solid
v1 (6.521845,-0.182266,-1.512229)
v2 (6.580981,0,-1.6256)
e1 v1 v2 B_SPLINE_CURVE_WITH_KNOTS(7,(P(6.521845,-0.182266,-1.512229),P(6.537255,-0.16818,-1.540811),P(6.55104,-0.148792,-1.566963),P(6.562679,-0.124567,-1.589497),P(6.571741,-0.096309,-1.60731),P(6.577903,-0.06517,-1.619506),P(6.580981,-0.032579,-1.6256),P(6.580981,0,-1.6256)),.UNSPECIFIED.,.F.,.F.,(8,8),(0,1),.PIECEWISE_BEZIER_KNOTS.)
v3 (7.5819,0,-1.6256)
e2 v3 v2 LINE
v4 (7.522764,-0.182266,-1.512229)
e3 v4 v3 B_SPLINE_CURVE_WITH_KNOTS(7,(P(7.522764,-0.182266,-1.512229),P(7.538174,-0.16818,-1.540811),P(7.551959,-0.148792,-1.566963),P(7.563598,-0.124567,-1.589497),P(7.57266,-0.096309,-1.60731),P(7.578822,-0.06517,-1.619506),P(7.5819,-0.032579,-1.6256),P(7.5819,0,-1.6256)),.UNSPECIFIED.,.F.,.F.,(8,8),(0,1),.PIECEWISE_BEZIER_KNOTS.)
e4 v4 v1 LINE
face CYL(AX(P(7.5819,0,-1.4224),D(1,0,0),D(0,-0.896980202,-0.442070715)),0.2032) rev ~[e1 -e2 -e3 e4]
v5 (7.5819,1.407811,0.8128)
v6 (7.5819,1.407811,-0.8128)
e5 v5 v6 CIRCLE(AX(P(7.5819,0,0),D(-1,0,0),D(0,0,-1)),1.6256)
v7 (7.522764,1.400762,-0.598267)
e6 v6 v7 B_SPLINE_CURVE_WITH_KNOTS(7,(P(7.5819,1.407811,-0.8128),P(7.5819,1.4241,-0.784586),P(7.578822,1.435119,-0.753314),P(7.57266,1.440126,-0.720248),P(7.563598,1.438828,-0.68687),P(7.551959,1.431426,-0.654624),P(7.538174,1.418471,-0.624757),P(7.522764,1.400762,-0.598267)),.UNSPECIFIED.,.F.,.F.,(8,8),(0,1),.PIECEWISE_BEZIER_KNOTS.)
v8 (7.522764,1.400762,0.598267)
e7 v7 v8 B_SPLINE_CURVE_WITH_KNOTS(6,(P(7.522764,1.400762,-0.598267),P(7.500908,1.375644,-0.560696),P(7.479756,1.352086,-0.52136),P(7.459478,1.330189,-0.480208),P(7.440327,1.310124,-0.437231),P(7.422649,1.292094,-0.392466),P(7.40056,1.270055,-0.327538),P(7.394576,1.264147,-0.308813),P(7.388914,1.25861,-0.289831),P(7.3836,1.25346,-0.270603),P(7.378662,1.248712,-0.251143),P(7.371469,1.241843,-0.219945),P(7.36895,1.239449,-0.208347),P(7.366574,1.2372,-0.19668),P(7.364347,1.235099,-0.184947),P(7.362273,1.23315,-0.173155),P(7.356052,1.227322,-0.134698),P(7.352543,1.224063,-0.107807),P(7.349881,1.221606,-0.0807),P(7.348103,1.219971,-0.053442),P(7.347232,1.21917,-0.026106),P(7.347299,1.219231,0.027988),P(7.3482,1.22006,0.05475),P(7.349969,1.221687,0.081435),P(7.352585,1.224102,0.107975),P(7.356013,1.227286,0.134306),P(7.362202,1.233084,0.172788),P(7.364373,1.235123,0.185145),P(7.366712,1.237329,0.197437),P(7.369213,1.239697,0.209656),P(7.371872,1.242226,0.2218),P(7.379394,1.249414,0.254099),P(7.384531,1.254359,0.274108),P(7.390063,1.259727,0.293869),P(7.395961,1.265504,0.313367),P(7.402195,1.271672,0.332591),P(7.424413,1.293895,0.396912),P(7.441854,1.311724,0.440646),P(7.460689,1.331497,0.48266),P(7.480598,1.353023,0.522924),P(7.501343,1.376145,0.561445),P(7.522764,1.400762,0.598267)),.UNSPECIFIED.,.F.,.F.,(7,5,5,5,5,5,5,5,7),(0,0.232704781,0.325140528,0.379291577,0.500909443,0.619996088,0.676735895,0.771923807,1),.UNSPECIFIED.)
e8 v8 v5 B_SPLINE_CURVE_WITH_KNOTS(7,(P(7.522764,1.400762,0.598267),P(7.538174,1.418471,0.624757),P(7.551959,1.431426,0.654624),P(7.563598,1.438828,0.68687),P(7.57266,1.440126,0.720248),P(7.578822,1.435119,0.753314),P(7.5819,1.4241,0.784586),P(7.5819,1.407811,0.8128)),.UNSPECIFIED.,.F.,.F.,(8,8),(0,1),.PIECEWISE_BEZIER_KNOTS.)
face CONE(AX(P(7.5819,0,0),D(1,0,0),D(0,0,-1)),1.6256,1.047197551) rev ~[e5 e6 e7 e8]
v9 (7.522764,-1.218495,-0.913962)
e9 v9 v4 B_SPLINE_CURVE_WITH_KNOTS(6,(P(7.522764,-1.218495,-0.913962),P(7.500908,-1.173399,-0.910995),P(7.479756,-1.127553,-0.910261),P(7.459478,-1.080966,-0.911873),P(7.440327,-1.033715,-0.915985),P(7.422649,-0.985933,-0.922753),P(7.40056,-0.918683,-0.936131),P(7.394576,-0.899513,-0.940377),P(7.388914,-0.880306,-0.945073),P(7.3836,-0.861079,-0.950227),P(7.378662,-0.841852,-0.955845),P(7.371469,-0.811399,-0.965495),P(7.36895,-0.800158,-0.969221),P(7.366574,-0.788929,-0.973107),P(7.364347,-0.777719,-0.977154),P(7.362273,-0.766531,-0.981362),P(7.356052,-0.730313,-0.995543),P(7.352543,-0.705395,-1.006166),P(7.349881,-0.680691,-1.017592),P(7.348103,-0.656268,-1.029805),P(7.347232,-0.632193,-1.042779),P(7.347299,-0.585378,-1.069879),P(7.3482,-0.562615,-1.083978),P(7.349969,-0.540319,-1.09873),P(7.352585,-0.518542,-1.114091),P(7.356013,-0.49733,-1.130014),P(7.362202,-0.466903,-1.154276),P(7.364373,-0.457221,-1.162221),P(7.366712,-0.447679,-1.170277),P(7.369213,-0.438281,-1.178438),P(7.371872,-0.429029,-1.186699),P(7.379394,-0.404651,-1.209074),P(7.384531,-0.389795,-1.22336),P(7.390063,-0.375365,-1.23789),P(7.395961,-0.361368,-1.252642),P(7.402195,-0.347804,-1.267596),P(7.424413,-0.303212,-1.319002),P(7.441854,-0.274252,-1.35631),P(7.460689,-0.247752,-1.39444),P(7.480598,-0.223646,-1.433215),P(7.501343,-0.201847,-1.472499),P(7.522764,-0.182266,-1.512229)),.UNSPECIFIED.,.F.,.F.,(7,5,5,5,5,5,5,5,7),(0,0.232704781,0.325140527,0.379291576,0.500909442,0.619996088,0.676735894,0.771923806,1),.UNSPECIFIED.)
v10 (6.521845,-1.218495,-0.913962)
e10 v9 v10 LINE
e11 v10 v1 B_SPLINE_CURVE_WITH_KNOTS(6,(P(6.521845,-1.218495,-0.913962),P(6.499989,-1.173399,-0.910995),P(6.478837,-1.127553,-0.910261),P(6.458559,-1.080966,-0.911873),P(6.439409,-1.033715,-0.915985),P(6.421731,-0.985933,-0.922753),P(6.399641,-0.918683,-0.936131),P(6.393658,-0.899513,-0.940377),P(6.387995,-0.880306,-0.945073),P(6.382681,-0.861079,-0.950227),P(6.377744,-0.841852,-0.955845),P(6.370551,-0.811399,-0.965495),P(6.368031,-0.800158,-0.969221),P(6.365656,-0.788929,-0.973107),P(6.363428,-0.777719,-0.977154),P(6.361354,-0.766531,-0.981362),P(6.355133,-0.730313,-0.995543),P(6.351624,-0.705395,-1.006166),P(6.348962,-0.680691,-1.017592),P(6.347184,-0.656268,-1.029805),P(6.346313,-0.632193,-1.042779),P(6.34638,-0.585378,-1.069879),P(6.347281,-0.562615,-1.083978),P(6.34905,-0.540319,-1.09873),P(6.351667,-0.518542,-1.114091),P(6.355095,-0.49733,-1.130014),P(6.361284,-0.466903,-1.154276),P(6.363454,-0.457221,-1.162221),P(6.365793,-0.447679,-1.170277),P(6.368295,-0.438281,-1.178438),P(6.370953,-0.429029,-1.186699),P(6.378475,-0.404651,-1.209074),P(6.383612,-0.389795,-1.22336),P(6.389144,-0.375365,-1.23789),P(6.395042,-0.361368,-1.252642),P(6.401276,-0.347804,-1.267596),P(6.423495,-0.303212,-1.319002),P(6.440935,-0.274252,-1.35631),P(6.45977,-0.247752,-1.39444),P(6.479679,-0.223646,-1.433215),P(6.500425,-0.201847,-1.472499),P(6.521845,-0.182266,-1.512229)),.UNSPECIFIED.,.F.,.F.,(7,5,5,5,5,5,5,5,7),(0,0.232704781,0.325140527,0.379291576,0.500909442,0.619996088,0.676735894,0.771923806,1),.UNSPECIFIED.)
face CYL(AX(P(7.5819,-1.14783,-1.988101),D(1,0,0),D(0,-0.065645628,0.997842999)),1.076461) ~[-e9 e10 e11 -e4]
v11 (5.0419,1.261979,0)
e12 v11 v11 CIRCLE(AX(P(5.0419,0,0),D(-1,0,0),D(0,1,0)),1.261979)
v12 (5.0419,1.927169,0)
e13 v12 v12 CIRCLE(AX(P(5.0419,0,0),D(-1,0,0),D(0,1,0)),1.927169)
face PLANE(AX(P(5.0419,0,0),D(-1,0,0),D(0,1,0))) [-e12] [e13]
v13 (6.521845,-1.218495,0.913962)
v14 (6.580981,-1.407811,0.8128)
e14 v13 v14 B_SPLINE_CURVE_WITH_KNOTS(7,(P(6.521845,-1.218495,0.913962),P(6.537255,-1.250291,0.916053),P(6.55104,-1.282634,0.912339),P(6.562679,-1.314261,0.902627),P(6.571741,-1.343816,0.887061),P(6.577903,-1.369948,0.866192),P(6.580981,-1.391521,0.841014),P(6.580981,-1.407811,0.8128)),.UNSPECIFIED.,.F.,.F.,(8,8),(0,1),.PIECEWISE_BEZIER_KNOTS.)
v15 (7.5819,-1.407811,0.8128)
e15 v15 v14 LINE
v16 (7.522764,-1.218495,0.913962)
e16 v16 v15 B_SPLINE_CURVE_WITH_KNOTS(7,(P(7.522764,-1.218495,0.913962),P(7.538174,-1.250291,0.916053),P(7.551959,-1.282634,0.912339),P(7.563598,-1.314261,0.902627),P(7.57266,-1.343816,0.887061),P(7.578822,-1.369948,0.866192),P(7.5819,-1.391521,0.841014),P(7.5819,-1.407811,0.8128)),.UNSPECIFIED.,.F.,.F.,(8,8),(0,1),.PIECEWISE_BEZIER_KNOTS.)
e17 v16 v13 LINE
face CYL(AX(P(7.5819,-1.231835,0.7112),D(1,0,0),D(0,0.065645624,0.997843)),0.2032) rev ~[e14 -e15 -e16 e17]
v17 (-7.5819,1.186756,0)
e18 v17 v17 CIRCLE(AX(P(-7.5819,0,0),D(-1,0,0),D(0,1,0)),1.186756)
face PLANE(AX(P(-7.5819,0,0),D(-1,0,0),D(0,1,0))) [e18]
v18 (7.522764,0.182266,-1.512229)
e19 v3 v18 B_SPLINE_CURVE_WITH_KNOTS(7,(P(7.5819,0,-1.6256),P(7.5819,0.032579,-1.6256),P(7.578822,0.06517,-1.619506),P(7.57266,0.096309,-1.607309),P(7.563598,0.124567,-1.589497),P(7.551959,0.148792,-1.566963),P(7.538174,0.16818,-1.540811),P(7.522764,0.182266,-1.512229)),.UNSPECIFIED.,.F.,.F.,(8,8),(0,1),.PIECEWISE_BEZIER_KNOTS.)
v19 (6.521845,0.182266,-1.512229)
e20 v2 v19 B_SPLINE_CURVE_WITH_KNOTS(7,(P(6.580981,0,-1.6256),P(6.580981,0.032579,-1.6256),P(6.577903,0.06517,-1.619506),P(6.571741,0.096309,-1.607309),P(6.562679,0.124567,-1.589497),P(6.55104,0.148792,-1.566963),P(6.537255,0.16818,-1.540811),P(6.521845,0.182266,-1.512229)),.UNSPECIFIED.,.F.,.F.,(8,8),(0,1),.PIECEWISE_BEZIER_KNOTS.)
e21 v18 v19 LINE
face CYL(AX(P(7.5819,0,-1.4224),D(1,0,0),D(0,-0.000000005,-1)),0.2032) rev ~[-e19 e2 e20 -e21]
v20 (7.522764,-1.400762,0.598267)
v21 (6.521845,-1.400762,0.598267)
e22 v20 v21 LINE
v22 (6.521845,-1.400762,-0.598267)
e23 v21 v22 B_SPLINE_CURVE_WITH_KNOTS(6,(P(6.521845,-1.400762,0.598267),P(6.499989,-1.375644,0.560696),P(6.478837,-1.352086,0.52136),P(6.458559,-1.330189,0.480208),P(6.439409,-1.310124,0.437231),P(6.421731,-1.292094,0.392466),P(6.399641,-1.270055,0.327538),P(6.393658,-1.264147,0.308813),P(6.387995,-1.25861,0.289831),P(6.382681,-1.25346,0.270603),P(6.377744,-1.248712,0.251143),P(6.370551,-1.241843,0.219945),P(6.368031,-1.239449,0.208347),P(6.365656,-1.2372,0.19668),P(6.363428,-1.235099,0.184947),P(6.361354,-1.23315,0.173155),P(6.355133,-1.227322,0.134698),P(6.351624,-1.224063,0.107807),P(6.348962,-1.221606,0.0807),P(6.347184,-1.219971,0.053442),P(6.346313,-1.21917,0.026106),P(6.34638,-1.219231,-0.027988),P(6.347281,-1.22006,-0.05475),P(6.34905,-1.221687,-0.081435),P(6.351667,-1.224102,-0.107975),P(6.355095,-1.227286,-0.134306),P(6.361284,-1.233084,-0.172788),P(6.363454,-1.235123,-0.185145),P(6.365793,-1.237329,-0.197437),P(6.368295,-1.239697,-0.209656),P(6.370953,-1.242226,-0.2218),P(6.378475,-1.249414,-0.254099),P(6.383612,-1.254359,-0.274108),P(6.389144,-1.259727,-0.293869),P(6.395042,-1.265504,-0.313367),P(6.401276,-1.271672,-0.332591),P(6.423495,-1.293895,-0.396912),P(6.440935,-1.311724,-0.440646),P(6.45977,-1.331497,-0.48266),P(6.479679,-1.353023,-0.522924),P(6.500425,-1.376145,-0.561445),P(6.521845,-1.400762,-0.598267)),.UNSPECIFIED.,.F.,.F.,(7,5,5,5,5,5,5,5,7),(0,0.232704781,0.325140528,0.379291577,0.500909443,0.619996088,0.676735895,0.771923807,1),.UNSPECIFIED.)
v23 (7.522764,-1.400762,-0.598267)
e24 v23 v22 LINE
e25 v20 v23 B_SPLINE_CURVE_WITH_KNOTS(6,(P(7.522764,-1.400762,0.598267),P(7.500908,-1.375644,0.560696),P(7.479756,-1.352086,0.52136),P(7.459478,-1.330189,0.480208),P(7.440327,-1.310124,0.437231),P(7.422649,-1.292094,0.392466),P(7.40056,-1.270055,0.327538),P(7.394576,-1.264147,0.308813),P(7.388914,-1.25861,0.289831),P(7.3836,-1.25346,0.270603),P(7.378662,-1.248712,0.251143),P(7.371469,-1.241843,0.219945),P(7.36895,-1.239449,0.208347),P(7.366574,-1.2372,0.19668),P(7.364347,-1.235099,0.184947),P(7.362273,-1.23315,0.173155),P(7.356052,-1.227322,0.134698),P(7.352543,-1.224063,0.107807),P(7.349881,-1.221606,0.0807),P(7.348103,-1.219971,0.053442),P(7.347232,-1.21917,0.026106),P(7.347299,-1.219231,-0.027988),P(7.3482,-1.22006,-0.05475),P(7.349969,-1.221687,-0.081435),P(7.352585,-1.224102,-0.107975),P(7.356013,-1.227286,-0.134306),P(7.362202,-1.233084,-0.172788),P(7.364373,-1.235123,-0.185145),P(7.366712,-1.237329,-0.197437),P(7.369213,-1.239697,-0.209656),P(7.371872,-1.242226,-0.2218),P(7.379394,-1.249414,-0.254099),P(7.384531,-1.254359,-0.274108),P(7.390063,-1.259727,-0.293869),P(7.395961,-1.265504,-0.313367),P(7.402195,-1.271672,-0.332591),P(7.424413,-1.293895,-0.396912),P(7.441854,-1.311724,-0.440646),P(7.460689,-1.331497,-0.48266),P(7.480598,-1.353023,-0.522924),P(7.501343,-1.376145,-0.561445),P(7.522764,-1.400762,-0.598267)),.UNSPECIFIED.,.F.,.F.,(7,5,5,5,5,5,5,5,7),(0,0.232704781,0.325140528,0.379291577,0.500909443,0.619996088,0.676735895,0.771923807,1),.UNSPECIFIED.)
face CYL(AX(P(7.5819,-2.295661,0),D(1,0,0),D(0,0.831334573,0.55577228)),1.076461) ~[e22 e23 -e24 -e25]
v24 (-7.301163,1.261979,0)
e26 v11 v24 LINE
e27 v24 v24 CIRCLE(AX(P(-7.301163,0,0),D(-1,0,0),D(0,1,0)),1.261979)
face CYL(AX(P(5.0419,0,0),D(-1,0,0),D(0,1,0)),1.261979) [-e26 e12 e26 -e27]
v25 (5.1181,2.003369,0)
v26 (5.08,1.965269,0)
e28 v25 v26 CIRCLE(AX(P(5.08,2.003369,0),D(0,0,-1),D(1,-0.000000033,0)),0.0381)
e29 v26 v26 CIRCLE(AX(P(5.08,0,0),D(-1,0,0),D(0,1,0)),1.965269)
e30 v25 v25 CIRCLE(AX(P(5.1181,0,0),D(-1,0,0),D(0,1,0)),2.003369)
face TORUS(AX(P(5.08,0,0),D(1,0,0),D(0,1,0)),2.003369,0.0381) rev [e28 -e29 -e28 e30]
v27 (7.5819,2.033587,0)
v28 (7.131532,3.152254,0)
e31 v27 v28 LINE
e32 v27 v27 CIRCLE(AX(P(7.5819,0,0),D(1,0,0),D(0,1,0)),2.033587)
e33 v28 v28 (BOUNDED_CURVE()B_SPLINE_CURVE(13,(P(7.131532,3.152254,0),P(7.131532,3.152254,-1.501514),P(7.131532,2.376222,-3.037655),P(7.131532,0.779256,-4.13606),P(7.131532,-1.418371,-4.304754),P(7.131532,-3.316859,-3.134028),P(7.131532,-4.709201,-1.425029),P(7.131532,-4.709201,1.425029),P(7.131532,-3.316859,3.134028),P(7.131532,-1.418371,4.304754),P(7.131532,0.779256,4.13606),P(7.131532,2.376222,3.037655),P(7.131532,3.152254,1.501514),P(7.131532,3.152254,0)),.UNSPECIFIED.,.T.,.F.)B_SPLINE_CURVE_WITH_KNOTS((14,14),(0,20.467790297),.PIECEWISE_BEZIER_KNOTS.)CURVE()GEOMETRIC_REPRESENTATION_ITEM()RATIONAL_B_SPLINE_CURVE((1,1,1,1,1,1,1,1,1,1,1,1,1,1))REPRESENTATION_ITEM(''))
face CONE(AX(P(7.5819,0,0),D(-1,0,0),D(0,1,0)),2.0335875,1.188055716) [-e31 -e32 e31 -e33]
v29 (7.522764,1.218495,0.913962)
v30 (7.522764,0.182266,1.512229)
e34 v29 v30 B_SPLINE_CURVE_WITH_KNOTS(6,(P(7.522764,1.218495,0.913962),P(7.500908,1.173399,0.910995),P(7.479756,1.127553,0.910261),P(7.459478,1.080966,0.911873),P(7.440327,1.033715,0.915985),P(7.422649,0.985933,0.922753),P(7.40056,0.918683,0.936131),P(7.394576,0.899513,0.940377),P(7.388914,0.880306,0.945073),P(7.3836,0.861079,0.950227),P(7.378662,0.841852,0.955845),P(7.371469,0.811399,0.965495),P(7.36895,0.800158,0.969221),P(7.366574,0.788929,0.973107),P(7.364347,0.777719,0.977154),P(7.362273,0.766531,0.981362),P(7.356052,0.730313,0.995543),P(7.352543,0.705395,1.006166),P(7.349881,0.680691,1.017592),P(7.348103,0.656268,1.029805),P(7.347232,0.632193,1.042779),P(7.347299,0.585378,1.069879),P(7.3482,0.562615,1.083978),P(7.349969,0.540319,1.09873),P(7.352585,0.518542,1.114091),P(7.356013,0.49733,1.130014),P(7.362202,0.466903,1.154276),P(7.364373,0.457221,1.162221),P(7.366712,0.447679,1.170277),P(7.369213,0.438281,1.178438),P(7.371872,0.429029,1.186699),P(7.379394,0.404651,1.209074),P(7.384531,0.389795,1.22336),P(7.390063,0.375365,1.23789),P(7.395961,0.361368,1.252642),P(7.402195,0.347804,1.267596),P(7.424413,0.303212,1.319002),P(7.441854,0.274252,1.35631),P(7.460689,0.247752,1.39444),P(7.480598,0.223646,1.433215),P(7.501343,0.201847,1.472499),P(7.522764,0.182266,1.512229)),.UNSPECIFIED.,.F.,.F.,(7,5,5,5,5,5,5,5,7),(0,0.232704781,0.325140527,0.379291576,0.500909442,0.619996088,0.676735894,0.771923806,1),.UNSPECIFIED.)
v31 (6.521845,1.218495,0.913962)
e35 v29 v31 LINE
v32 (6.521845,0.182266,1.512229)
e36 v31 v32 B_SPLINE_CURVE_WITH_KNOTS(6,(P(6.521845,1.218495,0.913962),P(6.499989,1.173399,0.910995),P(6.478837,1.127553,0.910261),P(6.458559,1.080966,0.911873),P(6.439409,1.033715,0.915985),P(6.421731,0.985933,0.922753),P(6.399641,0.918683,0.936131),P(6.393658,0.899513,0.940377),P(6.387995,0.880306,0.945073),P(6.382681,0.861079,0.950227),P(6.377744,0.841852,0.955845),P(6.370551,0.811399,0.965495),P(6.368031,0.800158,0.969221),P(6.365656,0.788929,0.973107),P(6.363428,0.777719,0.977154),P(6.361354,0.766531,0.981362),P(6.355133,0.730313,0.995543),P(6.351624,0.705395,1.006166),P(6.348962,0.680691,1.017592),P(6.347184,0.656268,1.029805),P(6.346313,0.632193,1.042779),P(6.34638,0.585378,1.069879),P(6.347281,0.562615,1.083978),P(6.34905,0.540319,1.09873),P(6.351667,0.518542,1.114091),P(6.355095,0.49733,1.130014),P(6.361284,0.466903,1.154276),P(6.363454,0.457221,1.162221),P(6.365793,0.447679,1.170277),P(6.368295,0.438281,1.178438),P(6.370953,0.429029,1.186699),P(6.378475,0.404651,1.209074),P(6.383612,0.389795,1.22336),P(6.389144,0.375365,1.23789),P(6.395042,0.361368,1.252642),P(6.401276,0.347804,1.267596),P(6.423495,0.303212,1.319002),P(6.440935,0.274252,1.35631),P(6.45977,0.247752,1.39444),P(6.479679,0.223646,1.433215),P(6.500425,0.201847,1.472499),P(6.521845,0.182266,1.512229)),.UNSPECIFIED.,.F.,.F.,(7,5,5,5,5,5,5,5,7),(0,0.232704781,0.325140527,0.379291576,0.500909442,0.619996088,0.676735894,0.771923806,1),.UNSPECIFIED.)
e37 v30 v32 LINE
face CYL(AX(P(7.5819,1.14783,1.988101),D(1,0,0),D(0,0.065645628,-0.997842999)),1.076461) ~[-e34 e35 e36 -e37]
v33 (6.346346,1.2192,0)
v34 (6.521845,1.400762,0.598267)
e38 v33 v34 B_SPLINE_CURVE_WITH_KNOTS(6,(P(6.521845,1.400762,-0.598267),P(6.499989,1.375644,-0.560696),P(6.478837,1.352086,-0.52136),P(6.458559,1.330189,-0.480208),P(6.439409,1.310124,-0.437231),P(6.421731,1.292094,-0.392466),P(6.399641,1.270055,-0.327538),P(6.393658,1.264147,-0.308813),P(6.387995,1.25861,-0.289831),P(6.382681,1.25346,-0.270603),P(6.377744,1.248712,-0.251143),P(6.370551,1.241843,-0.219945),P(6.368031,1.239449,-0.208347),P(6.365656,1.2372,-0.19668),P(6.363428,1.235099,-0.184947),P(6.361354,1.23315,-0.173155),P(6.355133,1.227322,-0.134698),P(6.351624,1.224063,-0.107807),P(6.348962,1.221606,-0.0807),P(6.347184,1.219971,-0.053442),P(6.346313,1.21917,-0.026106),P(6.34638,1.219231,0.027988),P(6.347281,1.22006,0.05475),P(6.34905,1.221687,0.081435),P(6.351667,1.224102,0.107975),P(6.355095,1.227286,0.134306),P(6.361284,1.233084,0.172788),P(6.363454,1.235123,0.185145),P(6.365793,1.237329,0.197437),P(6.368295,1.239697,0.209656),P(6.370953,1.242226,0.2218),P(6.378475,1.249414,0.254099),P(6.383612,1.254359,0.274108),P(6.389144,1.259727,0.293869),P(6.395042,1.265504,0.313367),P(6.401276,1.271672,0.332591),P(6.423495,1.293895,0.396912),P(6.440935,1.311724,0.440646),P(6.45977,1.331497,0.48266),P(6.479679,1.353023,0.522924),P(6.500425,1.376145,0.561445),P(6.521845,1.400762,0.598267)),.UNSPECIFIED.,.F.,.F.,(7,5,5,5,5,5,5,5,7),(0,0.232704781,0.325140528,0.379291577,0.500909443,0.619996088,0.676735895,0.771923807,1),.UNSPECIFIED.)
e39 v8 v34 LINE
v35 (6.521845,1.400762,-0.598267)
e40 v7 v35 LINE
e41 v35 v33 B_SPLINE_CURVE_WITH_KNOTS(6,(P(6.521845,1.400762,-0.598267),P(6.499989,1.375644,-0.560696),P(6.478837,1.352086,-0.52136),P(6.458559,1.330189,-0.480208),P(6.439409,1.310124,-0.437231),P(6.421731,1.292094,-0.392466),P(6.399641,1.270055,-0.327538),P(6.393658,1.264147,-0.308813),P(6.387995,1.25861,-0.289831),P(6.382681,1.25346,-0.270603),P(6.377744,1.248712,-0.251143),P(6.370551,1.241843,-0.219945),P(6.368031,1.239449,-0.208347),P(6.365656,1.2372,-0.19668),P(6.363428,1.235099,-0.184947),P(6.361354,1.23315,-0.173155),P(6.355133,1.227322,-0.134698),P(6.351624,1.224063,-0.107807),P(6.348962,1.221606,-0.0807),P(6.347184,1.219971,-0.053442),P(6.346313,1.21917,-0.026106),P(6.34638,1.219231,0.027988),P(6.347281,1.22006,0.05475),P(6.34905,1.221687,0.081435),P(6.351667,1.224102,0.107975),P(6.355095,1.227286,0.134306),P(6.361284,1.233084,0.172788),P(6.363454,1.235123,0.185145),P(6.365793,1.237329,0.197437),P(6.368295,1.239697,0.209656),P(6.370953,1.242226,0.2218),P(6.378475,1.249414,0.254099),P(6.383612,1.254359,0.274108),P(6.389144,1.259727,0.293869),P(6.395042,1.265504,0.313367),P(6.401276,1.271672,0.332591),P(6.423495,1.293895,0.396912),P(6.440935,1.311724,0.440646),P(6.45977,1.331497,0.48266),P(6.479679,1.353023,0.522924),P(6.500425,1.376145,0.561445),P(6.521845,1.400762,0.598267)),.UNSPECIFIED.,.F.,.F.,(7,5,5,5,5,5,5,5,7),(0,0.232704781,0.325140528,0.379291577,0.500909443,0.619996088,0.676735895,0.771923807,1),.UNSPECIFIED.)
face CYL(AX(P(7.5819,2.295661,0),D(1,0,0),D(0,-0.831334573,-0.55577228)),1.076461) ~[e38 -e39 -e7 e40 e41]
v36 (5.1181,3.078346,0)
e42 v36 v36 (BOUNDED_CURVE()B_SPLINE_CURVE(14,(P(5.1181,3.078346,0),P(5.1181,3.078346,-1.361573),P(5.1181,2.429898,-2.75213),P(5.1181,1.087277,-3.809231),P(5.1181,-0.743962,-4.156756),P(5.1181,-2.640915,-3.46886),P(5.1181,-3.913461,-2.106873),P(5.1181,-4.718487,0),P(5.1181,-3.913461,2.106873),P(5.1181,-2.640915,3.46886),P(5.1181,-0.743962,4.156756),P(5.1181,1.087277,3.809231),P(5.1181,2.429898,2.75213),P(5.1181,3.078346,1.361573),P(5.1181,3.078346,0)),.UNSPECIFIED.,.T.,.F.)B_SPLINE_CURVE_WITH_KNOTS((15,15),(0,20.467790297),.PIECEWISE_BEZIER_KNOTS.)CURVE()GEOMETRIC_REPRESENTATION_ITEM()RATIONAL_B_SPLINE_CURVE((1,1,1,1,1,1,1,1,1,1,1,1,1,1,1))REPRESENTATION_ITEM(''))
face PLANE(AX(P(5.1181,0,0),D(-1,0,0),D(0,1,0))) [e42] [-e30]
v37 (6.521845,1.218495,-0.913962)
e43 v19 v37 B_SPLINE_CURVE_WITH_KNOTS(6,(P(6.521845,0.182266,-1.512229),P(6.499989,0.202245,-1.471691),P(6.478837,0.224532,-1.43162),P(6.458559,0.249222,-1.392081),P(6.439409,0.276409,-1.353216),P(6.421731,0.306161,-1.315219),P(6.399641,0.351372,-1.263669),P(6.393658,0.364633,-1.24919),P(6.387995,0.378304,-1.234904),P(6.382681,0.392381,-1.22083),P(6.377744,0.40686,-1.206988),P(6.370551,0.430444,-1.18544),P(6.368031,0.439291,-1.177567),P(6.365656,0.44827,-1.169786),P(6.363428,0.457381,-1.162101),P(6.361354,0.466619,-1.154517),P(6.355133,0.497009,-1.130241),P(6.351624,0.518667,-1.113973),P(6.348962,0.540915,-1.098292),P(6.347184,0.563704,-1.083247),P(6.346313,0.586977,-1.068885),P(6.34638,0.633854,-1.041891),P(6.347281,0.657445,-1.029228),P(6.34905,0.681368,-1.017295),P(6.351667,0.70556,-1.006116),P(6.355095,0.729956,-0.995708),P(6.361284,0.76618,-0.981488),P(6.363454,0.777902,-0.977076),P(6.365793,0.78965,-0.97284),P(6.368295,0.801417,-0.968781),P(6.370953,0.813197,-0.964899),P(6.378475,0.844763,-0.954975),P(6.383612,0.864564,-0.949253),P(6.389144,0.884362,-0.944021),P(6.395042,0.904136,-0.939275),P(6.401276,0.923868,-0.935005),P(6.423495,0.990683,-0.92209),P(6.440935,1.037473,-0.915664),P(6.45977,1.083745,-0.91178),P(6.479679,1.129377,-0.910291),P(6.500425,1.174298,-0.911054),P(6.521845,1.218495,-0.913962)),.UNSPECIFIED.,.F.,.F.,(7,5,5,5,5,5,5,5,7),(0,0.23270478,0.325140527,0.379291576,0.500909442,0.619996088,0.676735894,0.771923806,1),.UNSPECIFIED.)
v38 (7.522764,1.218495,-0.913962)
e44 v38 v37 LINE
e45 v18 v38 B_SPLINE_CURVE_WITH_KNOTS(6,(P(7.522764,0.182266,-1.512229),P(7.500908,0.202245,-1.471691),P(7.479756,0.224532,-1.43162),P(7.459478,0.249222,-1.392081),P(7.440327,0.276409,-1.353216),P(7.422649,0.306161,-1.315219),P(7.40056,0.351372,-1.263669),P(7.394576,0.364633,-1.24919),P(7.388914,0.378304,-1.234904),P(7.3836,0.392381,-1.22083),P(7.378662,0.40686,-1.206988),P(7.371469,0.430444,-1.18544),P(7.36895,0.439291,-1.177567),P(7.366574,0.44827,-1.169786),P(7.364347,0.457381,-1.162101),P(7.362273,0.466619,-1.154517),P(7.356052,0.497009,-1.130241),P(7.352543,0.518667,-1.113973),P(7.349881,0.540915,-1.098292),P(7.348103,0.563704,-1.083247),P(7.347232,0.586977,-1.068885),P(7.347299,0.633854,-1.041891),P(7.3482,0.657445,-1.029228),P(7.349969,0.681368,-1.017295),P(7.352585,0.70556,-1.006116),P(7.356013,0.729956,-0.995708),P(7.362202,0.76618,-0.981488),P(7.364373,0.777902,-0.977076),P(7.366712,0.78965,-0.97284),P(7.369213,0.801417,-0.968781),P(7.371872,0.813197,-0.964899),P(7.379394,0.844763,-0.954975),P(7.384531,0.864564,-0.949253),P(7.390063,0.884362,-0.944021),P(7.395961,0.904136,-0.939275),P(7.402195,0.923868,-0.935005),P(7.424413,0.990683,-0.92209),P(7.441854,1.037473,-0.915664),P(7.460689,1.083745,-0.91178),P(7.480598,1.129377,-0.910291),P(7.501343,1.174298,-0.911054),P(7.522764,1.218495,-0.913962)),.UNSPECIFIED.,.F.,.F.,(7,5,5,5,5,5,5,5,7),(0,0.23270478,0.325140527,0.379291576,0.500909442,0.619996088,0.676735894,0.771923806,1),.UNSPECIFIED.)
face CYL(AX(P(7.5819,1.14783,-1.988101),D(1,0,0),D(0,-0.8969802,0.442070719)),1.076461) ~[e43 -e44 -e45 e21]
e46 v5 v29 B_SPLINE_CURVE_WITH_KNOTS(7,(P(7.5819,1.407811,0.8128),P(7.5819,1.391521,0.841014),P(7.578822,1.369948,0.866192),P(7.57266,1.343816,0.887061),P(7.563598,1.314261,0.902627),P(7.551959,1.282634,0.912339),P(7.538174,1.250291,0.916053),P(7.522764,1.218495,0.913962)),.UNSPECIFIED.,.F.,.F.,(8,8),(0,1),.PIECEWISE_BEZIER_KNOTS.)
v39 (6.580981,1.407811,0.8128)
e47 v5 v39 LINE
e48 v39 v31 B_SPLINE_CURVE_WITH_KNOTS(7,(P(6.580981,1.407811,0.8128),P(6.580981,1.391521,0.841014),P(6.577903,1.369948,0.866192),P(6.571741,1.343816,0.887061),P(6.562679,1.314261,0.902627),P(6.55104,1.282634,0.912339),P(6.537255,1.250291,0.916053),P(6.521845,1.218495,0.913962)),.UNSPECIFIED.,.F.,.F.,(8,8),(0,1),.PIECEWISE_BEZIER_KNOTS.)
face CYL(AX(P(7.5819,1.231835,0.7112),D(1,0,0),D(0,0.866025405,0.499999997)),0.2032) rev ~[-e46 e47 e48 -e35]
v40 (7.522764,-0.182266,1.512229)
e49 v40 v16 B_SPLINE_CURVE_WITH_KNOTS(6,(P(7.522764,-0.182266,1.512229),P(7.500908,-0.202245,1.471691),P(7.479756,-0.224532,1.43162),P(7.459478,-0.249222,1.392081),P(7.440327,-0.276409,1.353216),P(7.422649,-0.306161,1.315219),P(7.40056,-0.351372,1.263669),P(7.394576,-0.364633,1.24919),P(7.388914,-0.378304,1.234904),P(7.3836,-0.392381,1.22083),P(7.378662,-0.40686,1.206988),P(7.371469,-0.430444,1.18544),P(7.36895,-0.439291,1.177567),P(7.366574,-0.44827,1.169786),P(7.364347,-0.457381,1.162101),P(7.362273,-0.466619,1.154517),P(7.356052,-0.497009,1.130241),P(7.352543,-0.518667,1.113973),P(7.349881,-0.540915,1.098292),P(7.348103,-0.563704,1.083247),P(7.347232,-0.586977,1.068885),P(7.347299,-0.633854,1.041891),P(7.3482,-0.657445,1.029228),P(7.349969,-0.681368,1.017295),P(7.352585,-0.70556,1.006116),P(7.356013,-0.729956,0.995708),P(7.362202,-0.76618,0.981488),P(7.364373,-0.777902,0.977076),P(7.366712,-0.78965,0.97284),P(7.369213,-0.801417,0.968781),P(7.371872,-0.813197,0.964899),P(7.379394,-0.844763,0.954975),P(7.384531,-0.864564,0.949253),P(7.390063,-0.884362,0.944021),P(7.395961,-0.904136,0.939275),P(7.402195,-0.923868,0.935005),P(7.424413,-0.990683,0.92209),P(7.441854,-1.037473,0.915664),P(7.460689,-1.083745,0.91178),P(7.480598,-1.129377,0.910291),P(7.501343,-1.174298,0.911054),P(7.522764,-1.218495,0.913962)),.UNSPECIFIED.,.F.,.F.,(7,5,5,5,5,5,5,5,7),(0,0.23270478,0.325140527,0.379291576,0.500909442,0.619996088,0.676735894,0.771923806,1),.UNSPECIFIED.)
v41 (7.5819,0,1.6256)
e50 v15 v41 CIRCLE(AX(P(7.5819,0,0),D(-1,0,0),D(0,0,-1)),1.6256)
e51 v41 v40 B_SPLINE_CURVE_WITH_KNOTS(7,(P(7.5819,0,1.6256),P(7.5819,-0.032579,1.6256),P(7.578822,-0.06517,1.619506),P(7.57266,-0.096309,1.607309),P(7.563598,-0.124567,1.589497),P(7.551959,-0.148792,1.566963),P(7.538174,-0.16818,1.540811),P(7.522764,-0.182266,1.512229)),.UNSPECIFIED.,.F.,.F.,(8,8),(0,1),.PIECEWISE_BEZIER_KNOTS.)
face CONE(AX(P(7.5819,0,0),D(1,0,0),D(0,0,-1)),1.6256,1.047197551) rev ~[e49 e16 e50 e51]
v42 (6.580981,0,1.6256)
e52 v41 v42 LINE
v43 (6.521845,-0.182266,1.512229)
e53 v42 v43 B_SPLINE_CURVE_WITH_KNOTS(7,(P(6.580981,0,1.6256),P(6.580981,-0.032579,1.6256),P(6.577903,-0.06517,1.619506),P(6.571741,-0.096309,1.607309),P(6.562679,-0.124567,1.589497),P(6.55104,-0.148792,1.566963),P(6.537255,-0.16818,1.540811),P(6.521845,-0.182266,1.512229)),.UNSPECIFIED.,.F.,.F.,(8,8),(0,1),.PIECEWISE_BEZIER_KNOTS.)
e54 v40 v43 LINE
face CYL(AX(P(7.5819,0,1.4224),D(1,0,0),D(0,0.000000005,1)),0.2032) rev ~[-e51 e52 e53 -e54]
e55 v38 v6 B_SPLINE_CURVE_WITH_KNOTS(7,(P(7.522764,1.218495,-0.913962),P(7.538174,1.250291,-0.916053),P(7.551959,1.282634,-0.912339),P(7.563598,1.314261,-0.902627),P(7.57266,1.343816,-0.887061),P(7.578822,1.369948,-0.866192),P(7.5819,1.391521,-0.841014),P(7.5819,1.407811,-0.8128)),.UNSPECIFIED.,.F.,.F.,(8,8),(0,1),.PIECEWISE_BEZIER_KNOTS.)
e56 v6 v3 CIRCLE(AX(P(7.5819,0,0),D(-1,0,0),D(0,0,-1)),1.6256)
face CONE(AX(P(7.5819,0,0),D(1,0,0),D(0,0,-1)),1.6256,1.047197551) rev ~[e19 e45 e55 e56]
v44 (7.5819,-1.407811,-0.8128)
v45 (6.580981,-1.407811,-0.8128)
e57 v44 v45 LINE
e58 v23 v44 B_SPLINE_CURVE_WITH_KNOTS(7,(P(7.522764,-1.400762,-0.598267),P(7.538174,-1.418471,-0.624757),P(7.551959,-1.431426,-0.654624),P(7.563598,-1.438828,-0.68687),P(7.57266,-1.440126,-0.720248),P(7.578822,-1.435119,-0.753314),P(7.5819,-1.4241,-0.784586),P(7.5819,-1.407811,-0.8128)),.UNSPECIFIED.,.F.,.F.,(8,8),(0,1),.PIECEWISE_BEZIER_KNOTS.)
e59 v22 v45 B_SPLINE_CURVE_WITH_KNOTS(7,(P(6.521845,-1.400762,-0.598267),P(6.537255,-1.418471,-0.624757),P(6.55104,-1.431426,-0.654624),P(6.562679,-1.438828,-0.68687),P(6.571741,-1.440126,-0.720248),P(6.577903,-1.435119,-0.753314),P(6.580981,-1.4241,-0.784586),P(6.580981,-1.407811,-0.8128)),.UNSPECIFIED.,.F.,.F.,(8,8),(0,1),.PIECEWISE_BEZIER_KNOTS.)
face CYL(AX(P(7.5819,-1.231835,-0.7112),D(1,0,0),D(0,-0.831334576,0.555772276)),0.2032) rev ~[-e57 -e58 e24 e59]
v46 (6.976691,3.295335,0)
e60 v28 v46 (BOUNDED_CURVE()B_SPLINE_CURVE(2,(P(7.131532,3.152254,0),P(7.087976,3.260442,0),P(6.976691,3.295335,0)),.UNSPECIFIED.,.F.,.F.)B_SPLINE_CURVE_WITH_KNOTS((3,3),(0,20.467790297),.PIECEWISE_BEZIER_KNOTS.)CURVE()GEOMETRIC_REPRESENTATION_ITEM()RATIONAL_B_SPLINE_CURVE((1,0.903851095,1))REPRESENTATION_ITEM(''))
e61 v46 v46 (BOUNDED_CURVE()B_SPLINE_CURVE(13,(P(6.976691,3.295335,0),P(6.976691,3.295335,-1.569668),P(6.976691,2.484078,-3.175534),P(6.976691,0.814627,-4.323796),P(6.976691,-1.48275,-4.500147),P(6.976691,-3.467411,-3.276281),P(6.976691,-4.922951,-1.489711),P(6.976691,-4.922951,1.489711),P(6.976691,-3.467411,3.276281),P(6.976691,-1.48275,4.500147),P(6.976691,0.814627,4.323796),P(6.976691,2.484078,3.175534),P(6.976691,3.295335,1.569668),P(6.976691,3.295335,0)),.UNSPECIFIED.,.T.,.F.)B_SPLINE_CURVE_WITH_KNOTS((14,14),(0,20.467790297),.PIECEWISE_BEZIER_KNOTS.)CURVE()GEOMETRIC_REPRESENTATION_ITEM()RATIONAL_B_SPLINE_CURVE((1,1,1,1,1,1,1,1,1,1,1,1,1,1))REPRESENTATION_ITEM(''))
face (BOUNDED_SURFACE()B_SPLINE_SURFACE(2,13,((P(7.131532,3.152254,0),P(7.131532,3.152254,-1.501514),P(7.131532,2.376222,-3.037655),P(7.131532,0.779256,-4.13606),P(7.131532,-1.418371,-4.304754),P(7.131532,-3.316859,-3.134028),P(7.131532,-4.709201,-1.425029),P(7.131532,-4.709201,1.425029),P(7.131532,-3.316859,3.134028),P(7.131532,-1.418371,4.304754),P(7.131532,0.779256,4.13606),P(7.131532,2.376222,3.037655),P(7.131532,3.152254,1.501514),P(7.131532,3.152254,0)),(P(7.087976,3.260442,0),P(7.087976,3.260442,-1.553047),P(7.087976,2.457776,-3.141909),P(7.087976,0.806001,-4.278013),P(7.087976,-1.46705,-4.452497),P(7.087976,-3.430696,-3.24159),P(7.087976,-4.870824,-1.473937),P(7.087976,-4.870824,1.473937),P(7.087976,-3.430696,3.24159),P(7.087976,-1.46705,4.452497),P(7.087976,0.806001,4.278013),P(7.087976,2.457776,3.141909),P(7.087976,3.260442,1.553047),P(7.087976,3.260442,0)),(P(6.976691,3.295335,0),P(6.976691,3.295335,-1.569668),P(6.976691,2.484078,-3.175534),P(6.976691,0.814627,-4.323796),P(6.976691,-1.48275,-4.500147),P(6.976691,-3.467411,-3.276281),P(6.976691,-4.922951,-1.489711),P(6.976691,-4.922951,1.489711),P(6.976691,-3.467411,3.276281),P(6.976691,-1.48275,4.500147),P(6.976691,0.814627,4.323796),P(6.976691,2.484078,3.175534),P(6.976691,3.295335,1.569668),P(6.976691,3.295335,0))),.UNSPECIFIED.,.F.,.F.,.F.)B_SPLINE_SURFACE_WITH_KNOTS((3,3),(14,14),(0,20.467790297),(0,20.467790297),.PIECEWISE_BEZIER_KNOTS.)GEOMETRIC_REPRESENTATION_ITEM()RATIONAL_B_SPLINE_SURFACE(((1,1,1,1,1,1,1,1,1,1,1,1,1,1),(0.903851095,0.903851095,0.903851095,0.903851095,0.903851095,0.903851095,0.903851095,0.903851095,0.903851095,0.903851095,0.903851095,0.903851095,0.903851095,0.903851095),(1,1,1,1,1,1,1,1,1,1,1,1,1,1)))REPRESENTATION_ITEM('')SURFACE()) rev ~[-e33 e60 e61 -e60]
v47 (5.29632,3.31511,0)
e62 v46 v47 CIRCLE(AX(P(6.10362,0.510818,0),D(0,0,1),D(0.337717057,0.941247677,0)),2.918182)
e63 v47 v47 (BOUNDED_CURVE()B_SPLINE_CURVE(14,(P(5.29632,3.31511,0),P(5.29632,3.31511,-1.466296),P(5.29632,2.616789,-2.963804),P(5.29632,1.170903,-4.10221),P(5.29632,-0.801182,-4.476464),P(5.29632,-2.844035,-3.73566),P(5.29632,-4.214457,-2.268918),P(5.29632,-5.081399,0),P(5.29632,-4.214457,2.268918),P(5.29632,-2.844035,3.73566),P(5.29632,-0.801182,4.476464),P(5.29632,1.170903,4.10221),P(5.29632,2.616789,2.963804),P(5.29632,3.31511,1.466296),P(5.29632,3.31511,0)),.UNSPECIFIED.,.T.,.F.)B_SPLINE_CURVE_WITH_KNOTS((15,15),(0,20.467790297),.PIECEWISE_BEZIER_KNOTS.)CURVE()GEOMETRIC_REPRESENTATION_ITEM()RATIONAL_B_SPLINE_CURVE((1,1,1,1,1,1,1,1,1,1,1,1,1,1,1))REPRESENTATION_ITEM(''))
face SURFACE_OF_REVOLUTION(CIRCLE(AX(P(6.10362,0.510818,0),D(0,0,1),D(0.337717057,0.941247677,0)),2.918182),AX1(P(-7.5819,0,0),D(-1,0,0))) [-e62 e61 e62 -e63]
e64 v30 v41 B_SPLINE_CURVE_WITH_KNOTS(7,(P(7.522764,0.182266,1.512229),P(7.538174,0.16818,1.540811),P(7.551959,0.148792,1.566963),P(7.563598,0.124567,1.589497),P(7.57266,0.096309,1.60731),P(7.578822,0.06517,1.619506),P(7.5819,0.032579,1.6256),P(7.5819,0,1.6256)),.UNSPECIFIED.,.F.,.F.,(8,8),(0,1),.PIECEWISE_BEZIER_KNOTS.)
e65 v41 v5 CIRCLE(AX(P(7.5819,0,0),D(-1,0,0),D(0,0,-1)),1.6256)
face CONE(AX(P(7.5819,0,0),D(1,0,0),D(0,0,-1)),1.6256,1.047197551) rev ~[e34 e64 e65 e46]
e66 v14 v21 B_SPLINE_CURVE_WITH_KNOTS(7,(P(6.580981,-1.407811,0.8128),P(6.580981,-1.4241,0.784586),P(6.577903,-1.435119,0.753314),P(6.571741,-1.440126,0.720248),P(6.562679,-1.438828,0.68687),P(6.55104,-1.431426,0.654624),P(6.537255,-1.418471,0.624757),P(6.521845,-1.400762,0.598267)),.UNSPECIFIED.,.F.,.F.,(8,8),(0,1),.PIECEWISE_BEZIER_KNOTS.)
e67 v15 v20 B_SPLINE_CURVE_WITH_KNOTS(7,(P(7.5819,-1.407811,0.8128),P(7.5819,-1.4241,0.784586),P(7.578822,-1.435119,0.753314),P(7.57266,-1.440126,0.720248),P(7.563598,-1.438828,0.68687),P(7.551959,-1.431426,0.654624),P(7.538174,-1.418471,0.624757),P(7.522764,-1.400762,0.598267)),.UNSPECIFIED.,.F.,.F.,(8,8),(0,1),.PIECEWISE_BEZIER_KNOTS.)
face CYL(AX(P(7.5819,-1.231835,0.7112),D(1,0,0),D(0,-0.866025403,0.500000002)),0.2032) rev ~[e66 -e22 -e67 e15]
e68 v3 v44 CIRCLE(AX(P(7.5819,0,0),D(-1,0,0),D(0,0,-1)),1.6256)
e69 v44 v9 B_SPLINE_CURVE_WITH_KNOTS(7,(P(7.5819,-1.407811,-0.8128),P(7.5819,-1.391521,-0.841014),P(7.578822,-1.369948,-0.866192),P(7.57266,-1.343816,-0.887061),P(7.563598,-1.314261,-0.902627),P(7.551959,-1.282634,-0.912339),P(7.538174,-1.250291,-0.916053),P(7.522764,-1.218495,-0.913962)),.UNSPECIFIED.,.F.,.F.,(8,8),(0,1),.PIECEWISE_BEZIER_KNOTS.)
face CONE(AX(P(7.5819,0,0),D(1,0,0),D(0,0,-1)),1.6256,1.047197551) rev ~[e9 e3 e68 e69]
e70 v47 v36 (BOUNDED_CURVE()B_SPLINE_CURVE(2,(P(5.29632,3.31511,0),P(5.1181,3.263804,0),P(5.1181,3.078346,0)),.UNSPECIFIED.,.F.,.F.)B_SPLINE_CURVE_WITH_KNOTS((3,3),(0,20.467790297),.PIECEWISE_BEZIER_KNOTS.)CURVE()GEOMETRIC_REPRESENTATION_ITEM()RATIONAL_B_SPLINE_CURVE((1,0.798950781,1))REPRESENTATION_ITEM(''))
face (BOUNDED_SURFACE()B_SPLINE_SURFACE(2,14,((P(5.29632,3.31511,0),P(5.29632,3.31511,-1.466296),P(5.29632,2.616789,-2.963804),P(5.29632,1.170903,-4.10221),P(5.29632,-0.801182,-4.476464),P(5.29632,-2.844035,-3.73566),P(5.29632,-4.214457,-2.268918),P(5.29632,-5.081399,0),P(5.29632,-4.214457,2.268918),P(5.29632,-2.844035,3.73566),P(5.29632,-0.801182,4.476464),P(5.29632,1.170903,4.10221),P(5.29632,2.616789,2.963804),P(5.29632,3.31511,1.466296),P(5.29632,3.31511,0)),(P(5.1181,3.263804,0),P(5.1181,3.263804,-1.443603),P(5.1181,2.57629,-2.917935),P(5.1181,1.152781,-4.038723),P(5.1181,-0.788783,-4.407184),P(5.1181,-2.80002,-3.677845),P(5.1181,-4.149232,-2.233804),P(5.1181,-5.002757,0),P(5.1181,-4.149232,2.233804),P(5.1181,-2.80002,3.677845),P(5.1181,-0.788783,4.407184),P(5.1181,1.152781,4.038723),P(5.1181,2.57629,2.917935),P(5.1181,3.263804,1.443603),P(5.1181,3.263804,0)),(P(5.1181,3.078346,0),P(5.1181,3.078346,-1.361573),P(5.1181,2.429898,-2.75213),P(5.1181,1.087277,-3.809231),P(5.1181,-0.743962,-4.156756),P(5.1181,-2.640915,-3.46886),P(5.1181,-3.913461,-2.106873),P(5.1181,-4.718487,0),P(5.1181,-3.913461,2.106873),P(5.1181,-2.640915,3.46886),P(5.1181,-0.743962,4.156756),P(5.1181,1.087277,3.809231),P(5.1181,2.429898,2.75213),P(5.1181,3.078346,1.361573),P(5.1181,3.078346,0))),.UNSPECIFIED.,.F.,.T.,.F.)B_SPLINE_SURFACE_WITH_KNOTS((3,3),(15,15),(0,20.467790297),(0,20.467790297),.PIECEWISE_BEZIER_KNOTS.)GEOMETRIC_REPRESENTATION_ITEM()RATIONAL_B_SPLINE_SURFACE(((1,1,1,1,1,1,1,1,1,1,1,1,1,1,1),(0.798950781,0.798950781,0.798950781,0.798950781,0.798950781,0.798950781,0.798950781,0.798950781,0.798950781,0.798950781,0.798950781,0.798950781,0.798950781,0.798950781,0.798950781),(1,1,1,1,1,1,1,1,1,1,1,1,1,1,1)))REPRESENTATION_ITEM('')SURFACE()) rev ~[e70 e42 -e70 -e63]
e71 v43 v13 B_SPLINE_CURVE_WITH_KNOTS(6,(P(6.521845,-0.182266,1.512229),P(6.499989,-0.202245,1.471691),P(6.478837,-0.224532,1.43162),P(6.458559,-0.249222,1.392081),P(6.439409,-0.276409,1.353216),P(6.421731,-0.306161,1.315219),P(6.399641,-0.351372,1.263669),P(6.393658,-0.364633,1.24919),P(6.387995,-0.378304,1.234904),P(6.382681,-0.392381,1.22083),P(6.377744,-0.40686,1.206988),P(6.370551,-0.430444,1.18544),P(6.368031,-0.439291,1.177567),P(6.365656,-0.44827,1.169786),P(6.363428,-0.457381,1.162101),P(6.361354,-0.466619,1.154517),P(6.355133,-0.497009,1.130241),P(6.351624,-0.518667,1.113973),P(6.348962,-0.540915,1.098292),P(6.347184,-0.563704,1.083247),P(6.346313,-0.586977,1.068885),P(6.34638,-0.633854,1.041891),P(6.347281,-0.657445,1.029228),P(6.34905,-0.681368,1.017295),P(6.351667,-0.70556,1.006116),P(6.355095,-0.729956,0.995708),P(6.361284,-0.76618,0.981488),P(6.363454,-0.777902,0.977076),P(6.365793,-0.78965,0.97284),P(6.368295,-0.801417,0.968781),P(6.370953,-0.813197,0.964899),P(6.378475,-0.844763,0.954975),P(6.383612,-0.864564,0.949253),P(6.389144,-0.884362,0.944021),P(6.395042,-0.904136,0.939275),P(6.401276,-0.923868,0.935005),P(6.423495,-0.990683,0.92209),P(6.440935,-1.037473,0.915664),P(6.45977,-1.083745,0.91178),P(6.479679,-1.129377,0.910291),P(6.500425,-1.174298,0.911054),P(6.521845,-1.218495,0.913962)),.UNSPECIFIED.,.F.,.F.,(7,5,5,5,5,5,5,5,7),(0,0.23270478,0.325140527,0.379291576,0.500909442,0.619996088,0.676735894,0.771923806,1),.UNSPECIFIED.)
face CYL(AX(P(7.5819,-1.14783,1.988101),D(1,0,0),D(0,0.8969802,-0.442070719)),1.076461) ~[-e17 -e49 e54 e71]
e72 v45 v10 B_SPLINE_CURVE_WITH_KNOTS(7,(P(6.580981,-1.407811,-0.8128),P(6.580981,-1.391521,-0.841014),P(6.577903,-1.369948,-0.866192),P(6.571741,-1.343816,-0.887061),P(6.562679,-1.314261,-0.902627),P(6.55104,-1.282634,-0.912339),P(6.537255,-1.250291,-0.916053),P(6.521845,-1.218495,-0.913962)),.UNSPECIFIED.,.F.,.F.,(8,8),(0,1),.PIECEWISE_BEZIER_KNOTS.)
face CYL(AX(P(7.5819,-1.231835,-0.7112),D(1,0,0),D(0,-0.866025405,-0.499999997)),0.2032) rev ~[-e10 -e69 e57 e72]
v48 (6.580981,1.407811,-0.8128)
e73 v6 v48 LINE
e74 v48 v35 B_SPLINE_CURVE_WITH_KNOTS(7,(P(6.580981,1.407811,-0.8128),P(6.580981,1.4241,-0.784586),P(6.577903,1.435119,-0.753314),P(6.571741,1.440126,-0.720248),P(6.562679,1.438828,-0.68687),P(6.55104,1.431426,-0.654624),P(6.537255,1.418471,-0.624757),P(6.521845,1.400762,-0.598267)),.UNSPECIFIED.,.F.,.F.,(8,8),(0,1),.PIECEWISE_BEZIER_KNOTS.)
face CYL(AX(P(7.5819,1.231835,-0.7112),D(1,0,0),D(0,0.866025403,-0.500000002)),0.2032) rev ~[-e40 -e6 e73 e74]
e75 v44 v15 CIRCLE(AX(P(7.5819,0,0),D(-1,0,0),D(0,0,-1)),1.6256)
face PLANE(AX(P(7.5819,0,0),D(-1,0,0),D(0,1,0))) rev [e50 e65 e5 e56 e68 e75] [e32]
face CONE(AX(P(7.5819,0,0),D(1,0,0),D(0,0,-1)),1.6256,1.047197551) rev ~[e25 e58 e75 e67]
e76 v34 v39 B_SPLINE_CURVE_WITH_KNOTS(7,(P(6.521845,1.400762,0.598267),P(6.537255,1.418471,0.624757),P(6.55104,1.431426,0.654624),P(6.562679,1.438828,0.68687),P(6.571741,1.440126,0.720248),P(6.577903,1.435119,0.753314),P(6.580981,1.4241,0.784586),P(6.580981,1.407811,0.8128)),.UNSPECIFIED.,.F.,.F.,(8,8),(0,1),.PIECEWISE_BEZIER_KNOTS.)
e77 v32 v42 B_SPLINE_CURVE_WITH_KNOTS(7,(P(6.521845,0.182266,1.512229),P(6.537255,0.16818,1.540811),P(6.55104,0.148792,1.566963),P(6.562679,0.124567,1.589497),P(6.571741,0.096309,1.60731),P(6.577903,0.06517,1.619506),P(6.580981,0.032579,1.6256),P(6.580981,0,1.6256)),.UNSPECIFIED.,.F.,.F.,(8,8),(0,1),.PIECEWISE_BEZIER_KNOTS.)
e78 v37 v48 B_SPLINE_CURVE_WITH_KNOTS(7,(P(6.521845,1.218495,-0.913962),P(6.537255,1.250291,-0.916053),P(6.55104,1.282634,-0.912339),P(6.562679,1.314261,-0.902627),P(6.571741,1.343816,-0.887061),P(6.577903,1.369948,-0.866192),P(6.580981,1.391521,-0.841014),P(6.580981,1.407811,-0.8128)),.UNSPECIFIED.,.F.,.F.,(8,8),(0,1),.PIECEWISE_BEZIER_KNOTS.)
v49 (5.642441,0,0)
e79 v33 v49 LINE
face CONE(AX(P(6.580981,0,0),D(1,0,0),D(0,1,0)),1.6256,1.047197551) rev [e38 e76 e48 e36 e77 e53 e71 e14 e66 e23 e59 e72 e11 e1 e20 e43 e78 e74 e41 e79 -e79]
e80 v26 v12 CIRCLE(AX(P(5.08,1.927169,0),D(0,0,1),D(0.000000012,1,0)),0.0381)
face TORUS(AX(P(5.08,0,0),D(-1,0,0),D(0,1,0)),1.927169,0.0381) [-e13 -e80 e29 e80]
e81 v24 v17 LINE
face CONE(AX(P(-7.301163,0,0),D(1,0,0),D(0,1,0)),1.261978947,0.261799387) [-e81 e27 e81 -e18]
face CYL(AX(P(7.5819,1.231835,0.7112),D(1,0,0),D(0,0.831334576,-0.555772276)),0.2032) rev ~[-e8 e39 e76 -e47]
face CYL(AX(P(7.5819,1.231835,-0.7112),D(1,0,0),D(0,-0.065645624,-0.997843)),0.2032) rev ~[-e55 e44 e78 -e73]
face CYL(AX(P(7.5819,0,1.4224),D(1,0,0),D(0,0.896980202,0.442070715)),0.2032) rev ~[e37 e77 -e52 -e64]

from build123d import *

# Parameters (mm, degrees)
BOSS_EXTRUDE1_REACH = 17.92
SKETCH3_R           = 2.0335875
FILLET1_R           = 0.24638
CHAMFER1_SIZE       = 0.280736842
CHAMFER1_SIZE2      = 0.07522321


with BuildPart() as part:
    # Sketch2 → Revolve1 (revolve)
    with BuildSketch(Plane.XY):
        with BuildLine():
            Line((-7.5819, 0), (7.5819, 0))
            Line((7.5819, 0), (7.5819, 2.0335875))
            Line((7.5819, 2.0335875), (7.08914, 3.25755))
            ThreePointArc((7.08914, 3.25755), (6.10362, 3.429), (5.1181, 3.25755))
            Line((5.1181, 3.25755), (5.1181, 2.003369298))
            ThreePointArc((5.1181, 2.003369298), (5.106940768, 1.97642853), (5.08, 1.965269298))
            ThreePointArc((5.08, 1.965269298), (5.053059232, 1.954110067), (5.0419, 1.927169298))
            Line((5.0419, 1.927169298), (5.0419, 1.261978947))
            Line((5.0419, 1.261978947), (-7.5819, 1.261978947))
            Line((-7.5819, 1.261978947), (-7.5819, 0))
        make_face()
    revolve(axis=Axis((-7.5819, 0, 0), (-1, 0, 0)))

    # Sketch12 → Cut-Revolve3 (revolve, cut)
    with BuildSketch(Plane.XY):
        Polygon((7.5819, 1.6256), (6.58098125, 1.6256), (5.642440652, 0), (7.5819, 0), align=None)
    revolve(axis=Axis((-7.5819, 0, 0), (1, 0, 0)), mode=Mode.SUBTRACT)

    # Boss-Extrude1: up to this cone (the profile starts inside it)
    boss_extrude1_end = Plane(origin=(7.5819, 0, 0), z_dir=(1, 0, 0)).offset(-1.939458348) * Cone(1.732e-06, 41.081996047, 23.718700477, align=(Align.CENTER, Align.CENTER, Align.MIN), mode=Mode.PRIVATE)
    # Sketch3 → Boss-Extrude1 (add, up to the surface)
    with BuildSketch(Plane(origin=(7.5819, 0, 0), x_dir=(0, 0, -1), z_dir=(1, 0, 0)), mode=Mode.PRIVATE) as boss_extrude1_sk1:
        Circle(SKETCH3_R)
        with BuildLine():
            ThreePointArc((1.51222877, -0.182266377), (1.594944844, -0.107324354), (1.6256, 0))
            ThreePointArc((1.6256, 0), (1.594944844, 0.107324354), (1.51222877, 0.182266377))
            ThreePointArc((1.51222877, 0.182266377), (1.055858172, 0.6096), (0.913961698, 1.218495343))
            ThreePointArc((0.913961698, 1.218495343), (0.890418039, 1.327600575), (0.8128, 1.407810896))
            ThreePointArc((0.8128, 1.407810896), (0.704526805, 1.434924929), (0.598267073, 1.40076172))
            ThreePointArc((0.598267073, 1.40076172), (0, 1.2192), (-0.598267073, 1.40076172))
            ThreePointArc((-0.598267073, 1.40076172), (-0.704526805, 1.434924929), (-0.8128, 1.407810896))
            ThreePointArc((-0.8128, 1.407810896), (-0.890418039, 1.327600575), (-0.913961698, 1.218495343))
            ThreePointArc((-0.913961698, 1.218495343), (-1.055858172, 0.6096), (-1.51222877, 0.182266377))
            ThreePointArc((-1.51222877, 0.182266377), (-1.594944844, 0.107324354), (-1.6256, 0))
            ThreePointArc((-1.6256, 0), (-1.594944844, -0.107324354), (-1.51222877, -0.182266377))
            ThreePointArc((-1.51222877, -0.182266377), (-1.055858172, -0.6096), (-0.913961698, -1.218495343))
            ThreePointArc((-0.913961698, -1.218495343), (-0.890418039, -1.327600575), (-0.8128, -1.407810896))
            ThreePointArc((-0.8128, -1.407810896), (-0.704526805, -1.434924929), (-0.598267073, -1.40076172))
            ThreePointArc((-0.598267073, -1.40076172), (0, -1.2192), (0.598267073, -1.40076172))
            ThreePointArc((0.598267073, -1.40076172), (0.704526805, -1.434924929), (0.8128, -1.407810896))
            ThreePointArc((0.8128, -1.407810896), (0.890418039, -1.327600575), (0.913961698, -1.218495343))
            ThreePointArc((0.913961698, -1.218495343), (1.055858172, -0.6096), (1.51222877, -0.182266377))
        make_face(mode=Mode.SUBTRACT)
    boss_extrude1_tool1 = extrude(boss_extrude1_sk1.sketch, amount=-BOSS_EXTRUDE1_REACH, mode=Mode.PRIVATE) & boss_extrude1_end
    add(boss_extrude1_tool1.solids().sort_by_distance((7.5819, 0, 1.976069))[0])

    # Cut-Extrude2 cone 1 section (through the dimple's axis) → Cut-Extrude2 (revolve, cut)
    with BuildSketch(Plane(origin=(7.5819, 0, 0), x_dir=(0, 0, -1), z_dir=(0, 1, 0))):
        Polygon((0, 0), (1.6256, 0), (0, 0.938540598), align=None)
    revolve(axis=Axis((7.5819, 0, 0), (-1, 0, 0)), mode=Mode.SUBTRACT)

    # Fillet1
    fillet1_edges = [part.edges().sort_by_distance(p)[0] for p in [
        (5.1181, -3.25755, 0),
        (7.08914, -3.25755, 0),
    ]]
    fillet(fillet1_edges, radius=FILLET1_R)

    # Chamfer1
    chamfer1_edges = [part.edges().sort_by_distance(p)[0] for p in [
        (-7.5819, -1.261978947, 0),
    ]]
    chamfer1_side = [part.faces().sort_by_distance(p)[0] for p in [
        (-1.27, -1.261978947, 0),
    ]]
    chamfer(chamfer1_edges, length=CHAMFER1_SIZE, length2=CHAMFER1_SIZE2, reference=chamfer1_side[0])


solid = part.part
